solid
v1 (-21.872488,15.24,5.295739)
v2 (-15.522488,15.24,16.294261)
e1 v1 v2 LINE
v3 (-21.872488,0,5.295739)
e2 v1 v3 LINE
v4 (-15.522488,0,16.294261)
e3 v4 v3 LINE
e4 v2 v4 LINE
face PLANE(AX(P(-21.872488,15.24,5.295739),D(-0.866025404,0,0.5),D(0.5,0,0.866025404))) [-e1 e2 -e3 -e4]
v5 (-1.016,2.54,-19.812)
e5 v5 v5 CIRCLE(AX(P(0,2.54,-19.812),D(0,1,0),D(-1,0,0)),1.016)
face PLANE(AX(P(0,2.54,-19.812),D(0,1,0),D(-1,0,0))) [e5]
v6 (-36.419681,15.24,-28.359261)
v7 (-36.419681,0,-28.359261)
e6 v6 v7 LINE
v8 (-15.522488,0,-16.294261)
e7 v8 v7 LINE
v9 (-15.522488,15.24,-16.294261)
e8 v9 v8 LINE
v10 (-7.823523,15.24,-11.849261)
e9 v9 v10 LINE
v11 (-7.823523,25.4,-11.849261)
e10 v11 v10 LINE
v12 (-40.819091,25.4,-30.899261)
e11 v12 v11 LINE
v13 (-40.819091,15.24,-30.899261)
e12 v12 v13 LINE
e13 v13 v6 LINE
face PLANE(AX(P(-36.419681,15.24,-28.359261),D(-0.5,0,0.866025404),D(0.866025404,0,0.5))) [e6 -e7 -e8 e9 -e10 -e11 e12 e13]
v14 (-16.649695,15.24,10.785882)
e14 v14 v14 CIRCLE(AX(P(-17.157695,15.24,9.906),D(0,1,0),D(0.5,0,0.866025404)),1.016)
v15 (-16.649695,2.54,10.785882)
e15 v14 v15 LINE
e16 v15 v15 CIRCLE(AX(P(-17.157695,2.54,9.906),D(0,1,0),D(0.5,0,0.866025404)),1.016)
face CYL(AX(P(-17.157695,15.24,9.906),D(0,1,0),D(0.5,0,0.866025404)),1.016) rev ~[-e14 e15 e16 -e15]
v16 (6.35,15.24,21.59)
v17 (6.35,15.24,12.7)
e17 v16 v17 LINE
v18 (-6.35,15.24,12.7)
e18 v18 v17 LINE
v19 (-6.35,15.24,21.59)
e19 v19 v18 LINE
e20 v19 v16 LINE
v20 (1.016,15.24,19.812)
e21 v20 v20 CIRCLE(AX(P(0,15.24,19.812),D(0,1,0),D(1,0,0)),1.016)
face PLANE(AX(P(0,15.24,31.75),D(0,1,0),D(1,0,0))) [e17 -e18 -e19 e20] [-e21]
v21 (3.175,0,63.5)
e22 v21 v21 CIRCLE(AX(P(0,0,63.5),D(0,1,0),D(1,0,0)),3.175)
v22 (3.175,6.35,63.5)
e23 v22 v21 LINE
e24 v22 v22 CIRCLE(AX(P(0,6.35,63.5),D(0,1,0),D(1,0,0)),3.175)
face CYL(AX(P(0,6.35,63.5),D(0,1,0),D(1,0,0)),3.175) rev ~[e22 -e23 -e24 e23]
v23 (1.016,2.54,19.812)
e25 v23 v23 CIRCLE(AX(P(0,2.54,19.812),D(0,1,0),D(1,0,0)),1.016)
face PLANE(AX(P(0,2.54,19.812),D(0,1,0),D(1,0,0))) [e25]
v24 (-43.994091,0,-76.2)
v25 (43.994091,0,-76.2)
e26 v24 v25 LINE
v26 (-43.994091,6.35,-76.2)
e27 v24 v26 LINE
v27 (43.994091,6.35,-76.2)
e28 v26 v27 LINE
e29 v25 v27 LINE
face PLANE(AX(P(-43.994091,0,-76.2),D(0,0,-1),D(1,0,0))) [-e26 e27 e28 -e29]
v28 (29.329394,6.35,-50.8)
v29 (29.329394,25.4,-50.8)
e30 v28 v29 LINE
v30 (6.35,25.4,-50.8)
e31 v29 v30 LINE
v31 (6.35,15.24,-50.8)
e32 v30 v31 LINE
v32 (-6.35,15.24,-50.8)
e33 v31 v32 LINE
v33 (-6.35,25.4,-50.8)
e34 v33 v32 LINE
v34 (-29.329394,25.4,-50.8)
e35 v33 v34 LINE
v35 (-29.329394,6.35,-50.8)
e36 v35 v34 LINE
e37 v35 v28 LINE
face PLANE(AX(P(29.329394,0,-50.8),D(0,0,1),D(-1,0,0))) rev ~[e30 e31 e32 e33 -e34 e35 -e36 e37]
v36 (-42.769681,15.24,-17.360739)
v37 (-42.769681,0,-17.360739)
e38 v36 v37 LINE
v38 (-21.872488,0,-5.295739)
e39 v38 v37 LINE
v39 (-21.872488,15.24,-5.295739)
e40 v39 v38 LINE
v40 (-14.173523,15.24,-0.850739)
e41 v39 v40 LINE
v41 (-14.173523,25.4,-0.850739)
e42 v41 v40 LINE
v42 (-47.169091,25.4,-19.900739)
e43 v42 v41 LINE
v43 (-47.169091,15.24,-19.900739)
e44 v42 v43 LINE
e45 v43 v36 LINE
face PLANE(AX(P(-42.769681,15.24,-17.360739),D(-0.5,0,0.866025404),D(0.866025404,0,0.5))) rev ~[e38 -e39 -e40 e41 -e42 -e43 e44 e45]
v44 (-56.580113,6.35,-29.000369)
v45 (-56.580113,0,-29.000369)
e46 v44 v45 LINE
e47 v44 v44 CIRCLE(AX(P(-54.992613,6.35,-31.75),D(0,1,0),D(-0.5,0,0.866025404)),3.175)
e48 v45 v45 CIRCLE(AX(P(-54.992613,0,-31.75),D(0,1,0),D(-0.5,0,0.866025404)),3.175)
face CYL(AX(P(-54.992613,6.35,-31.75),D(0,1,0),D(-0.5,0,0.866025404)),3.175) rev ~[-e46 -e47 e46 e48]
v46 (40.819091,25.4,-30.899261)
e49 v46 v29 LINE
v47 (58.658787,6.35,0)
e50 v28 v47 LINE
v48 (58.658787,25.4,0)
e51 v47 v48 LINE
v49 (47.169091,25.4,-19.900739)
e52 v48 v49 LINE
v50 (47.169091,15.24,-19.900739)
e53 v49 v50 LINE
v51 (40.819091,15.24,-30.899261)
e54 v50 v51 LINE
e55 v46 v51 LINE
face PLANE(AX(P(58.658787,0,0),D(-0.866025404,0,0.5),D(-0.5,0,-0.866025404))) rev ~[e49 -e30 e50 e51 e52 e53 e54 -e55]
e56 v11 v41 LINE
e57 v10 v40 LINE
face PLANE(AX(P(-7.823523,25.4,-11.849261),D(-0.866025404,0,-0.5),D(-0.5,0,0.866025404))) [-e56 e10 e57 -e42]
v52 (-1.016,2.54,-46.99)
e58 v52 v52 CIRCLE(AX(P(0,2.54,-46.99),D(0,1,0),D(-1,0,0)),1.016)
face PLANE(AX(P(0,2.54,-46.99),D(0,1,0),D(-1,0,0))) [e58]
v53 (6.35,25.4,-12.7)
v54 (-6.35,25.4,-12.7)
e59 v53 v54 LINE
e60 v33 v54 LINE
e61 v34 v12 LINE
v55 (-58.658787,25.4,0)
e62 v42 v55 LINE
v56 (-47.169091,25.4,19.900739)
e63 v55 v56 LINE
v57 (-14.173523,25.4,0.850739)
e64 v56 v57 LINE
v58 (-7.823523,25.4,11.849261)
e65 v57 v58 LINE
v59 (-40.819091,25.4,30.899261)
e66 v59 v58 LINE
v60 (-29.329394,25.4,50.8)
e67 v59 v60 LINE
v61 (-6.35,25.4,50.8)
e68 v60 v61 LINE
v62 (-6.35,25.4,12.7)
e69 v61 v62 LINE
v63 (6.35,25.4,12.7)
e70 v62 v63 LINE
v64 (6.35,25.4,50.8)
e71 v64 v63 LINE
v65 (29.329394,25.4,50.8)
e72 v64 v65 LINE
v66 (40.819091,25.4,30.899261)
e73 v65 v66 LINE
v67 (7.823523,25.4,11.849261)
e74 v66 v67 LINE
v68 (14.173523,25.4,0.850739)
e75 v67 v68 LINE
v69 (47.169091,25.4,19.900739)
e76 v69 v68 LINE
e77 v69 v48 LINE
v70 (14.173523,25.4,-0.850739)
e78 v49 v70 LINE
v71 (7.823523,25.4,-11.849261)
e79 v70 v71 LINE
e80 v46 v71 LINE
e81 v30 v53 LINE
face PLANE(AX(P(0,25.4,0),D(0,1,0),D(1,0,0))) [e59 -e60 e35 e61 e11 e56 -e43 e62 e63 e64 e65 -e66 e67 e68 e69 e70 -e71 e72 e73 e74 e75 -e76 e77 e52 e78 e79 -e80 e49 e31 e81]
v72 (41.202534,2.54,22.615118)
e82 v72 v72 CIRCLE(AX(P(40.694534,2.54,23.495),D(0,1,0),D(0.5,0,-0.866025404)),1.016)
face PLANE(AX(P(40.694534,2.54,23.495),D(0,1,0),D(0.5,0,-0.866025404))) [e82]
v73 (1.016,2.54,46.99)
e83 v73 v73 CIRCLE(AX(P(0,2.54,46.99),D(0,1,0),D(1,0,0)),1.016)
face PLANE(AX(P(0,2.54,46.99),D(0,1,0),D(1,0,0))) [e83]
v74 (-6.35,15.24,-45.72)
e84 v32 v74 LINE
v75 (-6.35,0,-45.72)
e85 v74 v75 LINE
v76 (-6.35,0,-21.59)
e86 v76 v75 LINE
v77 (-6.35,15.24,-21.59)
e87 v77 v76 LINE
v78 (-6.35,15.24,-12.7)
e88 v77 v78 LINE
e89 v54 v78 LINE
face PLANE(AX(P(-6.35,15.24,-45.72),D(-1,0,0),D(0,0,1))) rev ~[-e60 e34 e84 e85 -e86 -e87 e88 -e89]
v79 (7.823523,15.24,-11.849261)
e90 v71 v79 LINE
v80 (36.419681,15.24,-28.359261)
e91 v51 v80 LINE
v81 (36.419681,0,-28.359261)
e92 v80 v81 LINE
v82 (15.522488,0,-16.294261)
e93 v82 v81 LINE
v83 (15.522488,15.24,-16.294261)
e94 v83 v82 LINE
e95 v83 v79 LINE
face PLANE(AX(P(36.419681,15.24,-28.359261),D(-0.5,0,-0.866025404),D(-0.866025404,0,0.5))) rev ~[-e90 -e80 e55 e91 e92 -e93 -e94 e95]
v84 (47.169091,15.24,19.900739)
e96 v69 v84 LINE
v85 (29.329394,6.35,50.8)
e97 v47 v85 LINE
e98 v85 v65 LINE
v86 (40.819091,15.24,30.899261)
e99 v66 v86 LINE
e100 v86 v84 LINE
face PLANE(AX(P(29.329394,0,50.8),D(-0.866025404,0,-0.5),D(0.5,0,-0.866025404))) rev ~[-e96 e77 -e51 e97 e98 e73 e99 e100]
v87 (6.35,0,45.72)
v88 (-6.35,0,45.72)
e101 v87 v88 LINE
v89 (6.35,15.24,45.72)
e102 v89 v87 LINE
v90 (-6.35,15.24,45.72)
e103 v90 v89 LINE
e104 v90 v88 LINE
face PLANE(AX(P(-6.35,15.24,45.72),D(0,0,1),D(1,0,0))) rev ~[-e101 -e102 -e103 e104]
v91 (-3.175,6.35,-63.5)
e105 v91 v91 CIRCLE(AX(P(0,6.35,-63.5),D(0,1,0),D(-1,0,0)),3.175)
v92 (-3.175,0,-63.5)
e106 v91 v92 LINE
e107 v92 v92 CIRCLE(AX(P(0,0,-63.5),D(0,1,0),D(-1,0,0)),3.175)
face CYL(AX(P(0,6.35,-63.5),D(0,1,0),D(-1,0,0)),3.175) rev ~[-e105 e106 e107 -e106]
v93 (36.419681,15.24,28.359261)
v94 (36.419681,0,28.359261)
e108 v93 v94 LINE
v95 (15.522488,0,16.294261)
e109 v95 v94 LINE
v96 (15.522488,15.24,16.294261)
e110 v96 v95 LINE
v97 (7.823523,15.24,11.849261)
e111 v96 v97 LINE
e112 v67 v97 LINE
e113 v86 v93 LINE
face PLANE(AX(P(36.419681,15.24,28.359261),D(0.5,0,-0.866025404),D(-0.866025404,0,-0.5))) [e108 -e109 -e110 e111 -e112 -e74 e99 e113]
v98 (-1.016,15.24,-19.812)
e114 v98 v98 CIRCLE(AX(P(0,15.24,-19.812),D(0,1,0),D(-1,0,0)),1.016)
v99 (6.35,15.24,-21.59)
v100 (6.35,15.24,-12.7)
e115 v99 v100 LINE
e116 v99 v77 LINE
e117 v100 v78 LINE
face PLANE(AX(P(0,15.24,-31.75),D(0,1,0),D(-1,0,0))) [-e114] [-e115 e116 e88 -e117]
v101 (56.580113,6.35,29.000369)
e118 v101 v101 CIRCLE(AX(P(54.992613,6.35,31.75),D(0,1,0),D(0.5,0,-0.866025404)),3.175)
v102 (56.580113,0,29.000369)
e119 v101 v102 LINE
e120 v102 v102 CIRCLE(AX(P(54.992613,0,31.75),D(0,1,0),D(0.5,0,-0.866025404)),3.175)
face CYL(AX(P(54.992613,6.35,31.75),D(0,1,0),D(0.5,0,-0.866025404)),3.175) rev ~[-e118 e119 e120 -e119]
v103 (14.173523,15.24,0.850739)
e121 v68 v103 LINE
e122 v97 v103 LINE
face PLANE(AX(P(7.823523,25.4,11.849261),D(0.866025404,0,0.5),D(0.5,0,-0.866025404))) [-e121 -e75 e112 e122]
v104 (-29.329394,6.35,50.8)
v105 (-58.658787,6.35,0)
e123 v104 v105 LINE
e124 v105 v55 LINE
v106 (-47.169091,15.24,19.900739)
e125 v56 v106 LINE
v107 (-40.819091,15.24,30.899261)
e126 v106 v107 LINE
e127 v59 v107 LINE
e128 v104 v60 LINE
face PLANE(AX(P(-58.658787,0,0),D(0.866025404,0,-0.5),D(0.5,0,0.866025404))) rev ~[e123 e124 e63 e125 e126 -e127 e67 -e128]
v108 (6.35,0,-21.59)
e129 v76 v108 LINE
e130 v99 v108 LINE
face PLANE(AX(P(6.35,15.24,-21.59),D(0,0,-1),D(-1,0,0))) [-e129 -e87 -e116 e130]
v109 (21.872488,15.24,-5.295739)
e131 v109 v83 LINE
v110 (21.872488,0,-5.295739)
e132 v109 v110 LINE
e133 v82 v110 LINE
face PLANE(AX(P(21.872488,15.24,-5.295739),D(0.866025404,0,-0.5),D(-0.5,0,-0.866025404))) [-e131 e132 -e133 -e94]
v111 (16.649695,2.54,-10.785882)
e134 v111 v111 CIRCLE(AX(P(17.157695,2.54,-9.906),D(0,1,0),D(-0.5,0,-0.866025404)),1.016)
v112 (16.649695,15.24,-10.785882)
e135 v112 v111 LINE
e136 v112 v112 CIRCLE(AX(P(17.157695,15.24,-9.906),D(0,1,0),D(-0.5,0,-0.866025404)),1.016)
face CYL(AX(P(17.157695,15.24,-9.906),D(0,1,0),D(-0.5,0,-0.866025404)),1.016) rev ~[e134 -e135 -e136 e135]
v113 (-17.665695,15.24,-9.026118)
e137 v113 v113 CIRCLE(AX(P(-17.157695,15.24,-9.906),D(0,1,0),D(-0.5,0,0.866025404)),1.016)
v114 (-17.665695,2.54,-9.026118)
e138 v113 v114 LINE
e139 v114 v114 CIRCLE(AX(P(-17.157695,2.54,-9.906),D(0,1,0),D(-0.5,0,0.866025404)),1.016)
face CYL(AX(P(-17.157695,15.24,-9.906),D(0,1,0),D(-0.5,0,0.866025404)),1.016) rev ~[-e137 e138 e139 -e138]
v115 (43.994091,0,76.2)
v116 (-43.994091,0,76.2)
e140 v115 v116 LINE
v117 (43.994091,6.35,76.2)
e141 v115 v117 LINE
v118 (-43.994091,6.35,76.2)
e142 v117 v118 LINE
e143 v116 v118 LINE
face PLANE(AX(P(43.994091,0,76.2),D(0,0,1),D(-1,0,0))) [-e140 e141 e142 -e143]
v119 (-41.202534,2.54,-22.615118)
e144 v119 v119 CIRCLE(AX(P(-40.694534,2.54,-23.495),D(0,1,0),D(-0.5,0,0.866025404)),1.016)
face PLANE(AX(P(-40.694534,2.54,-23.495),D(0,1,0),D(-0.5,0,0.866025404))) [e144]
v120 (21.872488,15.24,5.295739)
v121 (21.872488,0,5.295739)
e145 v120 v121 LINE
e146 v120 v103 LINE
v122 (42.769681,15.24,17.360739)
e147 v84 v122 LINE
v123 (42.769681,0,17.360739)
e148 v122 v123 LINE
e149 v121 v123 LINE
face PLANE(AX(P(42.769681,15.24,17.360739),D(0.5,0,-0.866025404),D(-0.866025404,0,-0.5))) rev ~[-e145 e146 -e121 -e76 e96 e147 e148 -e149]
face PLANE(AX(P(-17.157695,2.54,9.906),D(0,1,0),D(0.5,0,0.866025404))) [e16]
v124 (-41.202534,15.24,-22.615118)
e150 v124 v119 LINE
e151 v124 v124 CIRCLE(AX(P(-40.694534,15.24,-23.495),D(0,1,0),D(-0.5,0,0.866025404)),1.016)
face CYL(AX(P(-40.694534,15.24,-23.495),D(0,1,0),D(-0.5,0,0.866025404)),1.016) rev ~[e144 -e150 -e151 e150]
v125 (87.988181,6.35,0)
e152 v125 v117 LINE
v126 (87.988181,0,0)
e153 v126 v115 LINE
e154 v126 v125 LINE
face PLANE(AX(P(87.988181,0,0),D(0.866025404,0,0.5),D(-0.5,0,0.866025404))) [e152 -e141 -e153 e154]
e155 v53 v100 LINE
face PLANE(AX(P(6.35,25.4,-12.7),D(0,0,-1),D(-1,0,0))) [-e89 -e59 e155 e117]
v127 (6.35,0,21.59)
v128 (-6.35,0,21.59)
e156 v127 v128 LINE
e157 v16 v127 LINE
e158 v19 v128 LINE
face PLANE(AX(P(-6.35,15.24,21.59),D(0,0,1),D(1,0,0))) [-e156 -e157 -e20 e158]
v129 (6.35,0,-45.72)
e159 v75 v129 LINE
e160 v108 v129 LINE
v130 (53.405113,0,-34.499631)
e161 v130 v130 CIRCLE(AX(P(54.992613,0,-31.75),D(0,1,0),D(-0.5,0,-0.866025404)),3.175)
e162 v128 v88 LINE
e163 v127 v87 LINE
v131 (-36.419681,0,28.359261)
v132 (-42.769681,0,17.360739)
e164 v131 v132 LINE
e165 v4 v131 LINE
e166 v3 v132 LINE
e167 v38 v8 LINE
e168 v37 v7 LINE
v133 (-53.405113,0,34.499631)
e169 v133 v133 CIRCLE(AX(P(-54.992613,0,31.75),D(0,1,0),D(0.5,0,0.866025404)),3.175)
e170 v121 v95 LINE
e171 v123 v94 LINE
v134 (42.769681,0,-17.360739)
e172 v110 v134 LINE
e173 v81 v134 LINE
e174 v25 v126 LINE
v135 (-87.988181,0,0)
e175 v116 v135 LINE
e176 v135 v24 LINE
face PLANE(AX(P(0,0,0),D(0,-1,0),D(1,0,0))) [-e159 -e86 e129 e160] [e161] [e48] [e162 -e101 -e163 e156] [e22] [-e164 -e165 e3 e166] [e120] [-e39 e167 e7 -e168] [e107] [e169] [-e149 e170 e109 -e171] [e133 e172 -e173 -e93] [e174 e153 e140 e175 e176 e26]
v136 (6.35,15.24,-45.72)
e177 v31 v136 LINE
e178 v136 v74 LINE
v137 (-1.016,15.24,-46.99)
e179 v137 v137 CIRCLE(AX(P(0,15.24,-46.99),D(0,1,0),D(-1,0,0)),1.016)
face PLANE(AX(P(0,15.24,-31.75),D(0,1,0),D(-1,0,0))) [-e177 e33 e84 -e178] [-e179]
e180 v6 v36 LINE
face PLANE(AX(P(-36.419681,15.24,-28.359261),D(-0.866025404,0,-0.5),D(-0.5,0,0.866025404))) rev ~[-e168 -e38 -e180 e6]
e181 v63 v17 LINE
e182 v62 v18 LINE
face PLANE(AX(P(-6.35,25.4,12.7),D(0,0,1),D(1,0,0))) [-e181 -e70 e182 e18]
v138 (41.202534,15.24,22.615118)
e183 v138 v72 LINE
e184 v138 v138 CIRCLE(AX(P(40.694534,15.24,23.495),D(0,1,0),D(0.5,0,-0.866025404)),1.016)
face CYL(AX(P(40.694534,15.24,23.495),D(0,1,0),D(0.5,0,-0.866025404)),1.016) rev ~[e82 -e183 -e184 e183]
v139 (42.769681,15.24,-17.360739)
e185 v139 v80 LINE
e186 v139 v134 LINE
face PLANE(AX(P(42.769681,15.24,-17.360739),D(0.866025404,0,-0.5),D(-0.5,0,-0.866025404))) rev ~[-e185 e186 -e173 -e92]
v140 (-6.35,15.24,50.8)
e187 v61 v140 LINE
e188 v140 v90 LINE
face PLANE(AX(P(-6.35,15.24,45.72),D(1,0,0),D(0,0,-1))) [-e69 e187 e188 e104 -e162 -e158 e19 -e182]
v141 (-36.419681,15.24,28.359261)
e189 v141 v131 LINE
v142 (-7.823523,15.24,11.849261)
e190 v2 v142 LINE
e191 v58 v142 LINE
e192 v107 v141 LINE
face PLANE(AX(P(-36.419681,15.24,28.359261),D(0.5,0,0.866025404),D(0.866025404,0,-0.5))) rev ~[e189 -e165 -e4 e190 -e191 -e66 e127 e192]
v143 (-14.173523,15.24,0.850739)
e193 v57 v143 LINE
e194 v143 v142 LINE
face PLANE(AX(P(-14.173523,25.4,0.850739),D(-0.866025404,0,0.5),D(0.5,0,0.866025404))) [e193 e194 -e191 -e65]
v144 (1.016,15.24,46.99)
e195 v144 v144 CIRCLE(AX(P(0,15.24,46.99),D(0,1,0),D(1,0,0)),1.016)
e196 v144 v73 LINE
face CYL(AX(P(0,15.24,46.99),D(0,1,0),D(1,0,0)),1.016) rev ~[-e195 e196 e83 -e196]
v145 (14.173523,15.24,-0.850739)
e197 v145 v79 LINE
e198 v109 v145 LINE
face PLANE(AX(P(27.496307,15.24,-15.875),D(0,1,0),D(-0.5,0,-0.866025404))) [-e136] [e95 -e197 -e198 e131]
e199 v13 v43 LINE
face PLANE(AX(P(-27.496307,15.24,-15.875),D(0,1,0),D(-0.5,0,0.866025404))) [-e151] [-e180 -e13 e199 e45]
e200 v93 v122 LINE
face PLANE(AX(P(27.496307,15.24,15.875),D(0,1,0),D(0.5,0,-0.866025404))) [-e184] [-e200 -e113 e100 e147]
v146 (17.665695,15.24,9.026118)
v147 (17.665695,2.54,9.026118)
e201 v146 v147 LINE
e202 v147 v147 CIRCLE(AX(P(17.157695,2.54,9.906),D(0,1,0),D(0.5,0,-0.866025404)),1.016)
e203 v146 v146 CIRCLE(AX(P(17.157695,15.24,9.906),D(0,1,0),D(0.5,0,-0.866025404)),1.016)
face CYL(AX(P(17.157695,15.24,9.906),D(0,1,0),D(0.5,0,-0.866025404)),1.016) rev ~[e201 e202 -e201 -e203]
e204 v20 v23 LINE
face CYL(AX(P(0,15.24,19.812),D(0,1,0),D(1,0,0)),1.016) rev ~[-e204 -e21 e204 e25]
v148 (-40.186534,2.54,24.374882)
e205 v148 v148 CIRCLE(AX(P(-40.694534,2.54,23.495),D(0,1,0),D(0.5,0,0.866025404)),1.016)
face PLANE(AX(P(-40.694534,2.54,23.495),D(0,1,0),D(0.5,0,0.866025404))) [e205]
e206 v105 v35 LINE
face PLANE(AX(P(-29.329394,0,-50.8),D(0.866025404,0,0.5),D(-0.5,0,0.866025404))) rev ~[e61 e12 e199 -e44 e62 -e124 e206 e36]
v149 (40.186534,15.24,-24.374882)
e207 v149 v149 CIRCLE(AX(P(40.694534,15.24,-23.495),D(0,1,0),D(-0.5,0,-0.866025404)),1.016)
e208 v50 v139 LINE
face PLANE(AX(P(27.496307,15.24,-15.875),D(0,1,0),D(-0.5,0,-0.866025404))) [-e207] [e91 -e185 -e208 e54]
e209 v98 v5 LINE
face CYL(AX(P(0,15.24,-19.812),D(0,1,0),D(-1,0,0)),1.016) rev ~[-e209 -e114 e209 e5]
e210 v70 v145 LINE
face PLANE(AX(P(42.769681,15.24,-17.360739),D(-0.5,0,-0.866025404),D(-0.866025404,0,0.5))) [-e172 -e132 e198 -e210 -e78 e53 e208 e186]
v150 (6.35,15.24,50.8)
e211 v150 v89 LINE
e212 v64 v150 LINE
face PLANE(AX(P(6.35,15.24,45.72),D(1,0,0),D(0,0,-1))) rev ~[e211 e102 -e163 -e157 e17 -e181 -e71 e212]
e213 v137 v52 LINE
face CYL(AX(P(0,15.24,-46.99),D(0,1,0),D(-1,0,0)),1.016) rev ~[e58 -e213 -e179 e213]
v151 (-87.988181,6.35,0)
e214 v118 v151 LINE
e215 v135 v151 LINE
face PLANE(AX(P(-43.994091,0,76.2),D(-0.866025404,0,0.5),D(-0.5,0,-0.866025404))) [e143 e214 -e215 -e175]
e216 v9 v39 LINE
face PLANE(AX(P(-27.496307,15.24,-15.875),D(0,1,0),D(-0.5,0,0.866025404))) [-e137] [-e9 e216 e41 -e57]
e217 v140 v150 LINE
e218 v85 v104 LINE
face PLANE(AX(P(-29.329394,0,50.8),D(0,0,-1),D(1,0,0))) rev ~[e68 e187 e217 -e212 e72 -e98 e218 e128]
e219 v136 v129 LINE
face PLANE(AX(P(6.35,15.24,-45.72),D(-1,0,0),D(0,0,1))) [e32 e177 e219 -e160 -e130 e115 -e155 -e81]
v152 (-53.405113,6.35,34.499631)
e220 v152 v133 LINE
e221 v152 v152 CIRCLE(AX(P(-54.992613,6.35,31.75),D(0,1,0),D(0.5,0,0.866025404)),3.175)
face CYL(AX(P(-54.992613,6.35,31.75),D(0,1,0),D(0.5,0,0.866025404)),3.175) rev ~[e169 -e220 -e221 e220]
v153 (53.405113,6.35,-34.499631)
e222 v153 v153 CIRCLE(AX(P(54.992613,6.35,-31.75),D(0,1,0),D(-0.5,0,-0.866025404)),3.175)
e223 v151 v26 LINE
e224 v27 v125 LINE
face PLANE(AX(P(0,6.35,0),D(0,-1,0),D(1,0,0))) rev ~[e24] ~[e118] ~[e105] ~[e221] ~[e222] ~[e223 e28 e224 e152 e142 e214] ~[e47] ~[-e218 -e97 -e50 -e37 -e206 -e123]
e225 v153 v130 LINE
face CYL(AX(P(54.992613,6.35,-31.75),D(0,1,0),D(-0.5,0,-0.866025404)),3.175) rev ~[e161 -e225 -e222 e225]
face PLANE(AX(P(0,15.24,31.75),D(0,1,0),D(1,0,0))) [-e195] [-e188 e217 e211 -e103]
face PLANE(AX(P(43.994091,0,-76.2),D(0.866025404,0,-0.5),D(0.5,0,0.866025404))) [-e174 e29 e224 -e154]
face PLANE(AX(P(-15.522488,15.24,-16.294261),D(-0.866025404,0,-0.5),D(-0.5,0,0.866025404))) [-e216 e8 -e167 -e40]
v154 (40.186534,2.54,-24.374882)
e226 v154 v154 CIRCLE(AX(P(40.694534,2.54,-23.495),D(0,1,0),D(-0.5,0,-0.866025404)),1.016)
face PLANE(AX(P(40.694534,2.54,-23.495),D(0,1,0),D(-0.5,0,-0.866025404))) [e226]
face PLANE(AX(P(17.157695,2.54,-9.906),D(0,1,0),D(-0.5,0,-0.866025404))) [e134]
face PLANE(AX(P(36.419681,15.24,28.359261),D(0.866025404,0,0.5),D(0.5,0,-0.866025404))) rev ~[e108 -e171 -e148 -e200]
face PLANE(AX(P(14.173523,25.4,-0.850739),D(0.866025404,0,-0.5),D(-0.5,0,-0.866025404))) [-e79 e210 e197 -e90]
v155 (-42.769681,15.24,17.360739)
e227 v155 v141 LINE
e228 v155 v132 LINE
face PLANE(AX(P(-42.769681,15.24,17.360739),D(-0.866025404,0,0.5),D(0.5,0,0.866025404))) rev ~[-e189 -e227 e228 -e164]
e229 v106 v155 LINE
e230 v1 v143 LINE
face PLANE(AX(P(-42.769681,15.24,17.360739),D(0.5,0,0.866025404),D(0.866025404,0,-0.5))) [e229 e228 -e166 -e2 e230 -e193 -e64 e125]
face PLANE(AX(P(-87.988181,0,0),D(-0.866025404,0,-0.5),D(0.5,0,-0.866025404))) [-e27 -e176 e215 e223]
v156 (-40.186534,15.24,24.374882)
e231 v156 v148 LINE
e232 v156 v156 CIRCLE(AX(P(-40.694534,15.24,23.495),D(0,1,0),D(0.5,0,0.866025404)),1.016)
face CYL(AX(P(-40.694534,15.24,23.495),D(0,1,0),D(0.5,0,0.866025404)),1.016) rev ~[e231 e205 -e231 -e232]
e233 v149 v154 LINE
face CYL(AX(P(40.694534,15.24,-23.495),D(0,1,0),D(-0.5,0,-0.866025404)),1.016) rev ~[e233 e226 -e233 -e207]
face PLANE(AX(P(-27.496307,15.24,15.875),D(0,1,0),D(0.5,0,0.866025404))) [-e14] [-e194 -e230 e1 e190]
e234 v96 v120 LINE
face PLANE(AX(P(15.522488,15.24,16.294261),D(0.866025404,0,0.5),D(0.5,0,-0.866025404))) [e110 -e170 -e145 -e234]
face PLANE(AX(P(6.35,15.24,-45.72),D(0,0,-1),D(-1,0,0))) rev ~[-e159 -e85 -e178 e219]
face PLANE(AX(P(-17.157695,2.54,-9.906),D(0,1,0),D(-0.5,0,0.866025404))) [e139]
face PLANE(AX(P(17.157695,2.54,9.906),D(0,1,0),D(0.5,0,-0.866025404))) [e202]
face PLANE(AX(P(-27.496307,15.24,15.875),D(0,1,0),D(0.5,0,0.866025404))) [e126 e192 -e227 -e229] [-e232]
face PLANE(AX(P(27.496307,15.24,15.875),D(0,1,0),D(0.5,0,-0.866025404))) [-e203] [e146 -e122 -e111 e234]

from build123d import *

# Parameters (mm, degrees)
BOSS_EXTRUDE1_DEPTH = 25.4
BOSS_EXTRUDE2_DEPTH = 6.35
SKETCH2_W           = 12.7
SKETCH2_H           = 38.1
CUT_EXTRUDE1_DEPTH  = 10.16
SKETCH3_W           = 12.7
SKETCH3_H           = 24.13
CUT_EXTRUDE2_DEPTH  = 118.390875284
SKETCH4_R           = 1.016
CUT_EXTRUDE3_DEPTH  = 12.7
SKETCH6_R           = 3.175
CUT_EXTRUDE4_DEPTH  = 118.946015193
CIRPATTERN1_COUNT   = 6


with BuildPart() as part:
    # Sketch1 → Boss-Extrude1 (new body)
    with BuildSketch(Plane(origin=(0, 0, 0), x_dir=(1, 0, 0), z_dir=(0, 1, 0))):
        Polygon((58.65878735, 0), (29.329393675, 50.8), (-29.329393675, 50.8), (-58.65878735, 0), (-29.329393675, -50.8), (29.329393675, -50.8), align=None)
    extrude(amount=BOSS_EXTRUDE1_DEPTH)

    # Sketch5 → Boss-Extrude2 (add)
    with BuildSketch(Plane.XZ):
        Polygon((87.988181024, 0), (43.994090512, 76.2), (-43.994090512, 76.2), (-87.988181024, 0), (-43.994090512, -76.2), (43.994090512, -76.2), align=None)
        Polygon((58.65878735, 0), (29.329393675, 50.8), (-29.329393675, 50.8), (-58.65878735, 0), (-29.329393675, -50.8), (29.329393675, -50.8), align=None, mode=Mode.SUBTRACT)
    extrude(amount=-BOSS_EXTRUDE2_DEPTH)

    # Sketch2 → Cut-Extrude1 (cut)
    with BuildSketch(Plane(origin=(0, 25.4, 0), x_dir=(1, 0, 0), z_dir=(0, 1, 0))):
        with Locations((0, -31.75)):
            Rectangle(SKETCH2_W, SKETCH2_H)
    cut_extrude1 = extrude(amount=-CUT_EXTRUDE1_DEPTH, mode=Mode.SUBTRACT)

    # Sketch3 → Cut-Extrude2 (cut, through all)
    with BuildSketch(Plane(origin=(0, 15.24, 0), x_dir=(1, 0, 0), z_dir=(0, 1, 0))):
        with Locations((0, -33.655)):
            Rectangle(SKETCH3_W, SKETCH3_H)
    cut_extrude2 = extrude(amount=-CUT_EXTRUDE2_DEPTH, mode=Mode.SUBTRACT)

    # Sketch4 → Cut-Extrude3 (cut)
    with BuildSketch(Plane(origin=(0, 15.24, 0), x_dir=(1, 0, 0), z_dir=(0, 1, 0))):
        with Locations((0, -19.812)):
            Circle(SKETCH4_R)
        with Locations((0, -46.99)):
            Circle(SKETCH4_R)
    cut_extrude3 = extrude(amount=-CUT_EXTRUDE3_DEPTH, mode=Mode.SUBTRACT)

    # Sketch6 → Cut-Extrude4 (cut, through all)
    with BuildSketch(Plane(origin=(0, 6.35, 0), x_dir=(1, 0, 0), z_dir=(0, 1, 0))):
        with Locations((0, -63.5)):
            Circle(SKETCH6_R)
    cut_extrude4 = extrude(amount=-CUT_EXTRUDE4_DEPTH, mode=Mode.SUBTRACT)

    # CirPattern1: Cut-Extrude1, Cut-Extrude2, Cut-Extrude3, Cut-Extrude4 ×6 about axis
    cirpattern1_axis = Axis((0, 26.67, 0), (0, -1, 0))
    add([cut_extrude1.rotate(cirpattern1_axis, i * 360 / CIRPATTERN1_COUNT) for i in range(1, CIRPATTERN1_COUNT)], mode=Mode.SUBTRACT)
    add([cut_extrude2.rotate(cirpattern1_axis, i * 360 / CIRPATTERN1_COUNT) for i in range(1, CIRPATTERN1_COUNT)], mode=Mode.SUBTRACT)
    add([cut_extrude3.rotate(cirpattern1_axis, i * 360 / CIRPATTERN1_COUNT) for i in range(1, CIRPATTERN1_COUNT)], mode=Mode.SUBTRACT)
    add([cut_extrude4.rotate(cirpattern1_axis, i * 360 / CIRPATTERN1_COUNT) for i in range(1, CIRPATTERN1_COUNT)], mode=Mode.SUBTRACT)


solid = part.part
